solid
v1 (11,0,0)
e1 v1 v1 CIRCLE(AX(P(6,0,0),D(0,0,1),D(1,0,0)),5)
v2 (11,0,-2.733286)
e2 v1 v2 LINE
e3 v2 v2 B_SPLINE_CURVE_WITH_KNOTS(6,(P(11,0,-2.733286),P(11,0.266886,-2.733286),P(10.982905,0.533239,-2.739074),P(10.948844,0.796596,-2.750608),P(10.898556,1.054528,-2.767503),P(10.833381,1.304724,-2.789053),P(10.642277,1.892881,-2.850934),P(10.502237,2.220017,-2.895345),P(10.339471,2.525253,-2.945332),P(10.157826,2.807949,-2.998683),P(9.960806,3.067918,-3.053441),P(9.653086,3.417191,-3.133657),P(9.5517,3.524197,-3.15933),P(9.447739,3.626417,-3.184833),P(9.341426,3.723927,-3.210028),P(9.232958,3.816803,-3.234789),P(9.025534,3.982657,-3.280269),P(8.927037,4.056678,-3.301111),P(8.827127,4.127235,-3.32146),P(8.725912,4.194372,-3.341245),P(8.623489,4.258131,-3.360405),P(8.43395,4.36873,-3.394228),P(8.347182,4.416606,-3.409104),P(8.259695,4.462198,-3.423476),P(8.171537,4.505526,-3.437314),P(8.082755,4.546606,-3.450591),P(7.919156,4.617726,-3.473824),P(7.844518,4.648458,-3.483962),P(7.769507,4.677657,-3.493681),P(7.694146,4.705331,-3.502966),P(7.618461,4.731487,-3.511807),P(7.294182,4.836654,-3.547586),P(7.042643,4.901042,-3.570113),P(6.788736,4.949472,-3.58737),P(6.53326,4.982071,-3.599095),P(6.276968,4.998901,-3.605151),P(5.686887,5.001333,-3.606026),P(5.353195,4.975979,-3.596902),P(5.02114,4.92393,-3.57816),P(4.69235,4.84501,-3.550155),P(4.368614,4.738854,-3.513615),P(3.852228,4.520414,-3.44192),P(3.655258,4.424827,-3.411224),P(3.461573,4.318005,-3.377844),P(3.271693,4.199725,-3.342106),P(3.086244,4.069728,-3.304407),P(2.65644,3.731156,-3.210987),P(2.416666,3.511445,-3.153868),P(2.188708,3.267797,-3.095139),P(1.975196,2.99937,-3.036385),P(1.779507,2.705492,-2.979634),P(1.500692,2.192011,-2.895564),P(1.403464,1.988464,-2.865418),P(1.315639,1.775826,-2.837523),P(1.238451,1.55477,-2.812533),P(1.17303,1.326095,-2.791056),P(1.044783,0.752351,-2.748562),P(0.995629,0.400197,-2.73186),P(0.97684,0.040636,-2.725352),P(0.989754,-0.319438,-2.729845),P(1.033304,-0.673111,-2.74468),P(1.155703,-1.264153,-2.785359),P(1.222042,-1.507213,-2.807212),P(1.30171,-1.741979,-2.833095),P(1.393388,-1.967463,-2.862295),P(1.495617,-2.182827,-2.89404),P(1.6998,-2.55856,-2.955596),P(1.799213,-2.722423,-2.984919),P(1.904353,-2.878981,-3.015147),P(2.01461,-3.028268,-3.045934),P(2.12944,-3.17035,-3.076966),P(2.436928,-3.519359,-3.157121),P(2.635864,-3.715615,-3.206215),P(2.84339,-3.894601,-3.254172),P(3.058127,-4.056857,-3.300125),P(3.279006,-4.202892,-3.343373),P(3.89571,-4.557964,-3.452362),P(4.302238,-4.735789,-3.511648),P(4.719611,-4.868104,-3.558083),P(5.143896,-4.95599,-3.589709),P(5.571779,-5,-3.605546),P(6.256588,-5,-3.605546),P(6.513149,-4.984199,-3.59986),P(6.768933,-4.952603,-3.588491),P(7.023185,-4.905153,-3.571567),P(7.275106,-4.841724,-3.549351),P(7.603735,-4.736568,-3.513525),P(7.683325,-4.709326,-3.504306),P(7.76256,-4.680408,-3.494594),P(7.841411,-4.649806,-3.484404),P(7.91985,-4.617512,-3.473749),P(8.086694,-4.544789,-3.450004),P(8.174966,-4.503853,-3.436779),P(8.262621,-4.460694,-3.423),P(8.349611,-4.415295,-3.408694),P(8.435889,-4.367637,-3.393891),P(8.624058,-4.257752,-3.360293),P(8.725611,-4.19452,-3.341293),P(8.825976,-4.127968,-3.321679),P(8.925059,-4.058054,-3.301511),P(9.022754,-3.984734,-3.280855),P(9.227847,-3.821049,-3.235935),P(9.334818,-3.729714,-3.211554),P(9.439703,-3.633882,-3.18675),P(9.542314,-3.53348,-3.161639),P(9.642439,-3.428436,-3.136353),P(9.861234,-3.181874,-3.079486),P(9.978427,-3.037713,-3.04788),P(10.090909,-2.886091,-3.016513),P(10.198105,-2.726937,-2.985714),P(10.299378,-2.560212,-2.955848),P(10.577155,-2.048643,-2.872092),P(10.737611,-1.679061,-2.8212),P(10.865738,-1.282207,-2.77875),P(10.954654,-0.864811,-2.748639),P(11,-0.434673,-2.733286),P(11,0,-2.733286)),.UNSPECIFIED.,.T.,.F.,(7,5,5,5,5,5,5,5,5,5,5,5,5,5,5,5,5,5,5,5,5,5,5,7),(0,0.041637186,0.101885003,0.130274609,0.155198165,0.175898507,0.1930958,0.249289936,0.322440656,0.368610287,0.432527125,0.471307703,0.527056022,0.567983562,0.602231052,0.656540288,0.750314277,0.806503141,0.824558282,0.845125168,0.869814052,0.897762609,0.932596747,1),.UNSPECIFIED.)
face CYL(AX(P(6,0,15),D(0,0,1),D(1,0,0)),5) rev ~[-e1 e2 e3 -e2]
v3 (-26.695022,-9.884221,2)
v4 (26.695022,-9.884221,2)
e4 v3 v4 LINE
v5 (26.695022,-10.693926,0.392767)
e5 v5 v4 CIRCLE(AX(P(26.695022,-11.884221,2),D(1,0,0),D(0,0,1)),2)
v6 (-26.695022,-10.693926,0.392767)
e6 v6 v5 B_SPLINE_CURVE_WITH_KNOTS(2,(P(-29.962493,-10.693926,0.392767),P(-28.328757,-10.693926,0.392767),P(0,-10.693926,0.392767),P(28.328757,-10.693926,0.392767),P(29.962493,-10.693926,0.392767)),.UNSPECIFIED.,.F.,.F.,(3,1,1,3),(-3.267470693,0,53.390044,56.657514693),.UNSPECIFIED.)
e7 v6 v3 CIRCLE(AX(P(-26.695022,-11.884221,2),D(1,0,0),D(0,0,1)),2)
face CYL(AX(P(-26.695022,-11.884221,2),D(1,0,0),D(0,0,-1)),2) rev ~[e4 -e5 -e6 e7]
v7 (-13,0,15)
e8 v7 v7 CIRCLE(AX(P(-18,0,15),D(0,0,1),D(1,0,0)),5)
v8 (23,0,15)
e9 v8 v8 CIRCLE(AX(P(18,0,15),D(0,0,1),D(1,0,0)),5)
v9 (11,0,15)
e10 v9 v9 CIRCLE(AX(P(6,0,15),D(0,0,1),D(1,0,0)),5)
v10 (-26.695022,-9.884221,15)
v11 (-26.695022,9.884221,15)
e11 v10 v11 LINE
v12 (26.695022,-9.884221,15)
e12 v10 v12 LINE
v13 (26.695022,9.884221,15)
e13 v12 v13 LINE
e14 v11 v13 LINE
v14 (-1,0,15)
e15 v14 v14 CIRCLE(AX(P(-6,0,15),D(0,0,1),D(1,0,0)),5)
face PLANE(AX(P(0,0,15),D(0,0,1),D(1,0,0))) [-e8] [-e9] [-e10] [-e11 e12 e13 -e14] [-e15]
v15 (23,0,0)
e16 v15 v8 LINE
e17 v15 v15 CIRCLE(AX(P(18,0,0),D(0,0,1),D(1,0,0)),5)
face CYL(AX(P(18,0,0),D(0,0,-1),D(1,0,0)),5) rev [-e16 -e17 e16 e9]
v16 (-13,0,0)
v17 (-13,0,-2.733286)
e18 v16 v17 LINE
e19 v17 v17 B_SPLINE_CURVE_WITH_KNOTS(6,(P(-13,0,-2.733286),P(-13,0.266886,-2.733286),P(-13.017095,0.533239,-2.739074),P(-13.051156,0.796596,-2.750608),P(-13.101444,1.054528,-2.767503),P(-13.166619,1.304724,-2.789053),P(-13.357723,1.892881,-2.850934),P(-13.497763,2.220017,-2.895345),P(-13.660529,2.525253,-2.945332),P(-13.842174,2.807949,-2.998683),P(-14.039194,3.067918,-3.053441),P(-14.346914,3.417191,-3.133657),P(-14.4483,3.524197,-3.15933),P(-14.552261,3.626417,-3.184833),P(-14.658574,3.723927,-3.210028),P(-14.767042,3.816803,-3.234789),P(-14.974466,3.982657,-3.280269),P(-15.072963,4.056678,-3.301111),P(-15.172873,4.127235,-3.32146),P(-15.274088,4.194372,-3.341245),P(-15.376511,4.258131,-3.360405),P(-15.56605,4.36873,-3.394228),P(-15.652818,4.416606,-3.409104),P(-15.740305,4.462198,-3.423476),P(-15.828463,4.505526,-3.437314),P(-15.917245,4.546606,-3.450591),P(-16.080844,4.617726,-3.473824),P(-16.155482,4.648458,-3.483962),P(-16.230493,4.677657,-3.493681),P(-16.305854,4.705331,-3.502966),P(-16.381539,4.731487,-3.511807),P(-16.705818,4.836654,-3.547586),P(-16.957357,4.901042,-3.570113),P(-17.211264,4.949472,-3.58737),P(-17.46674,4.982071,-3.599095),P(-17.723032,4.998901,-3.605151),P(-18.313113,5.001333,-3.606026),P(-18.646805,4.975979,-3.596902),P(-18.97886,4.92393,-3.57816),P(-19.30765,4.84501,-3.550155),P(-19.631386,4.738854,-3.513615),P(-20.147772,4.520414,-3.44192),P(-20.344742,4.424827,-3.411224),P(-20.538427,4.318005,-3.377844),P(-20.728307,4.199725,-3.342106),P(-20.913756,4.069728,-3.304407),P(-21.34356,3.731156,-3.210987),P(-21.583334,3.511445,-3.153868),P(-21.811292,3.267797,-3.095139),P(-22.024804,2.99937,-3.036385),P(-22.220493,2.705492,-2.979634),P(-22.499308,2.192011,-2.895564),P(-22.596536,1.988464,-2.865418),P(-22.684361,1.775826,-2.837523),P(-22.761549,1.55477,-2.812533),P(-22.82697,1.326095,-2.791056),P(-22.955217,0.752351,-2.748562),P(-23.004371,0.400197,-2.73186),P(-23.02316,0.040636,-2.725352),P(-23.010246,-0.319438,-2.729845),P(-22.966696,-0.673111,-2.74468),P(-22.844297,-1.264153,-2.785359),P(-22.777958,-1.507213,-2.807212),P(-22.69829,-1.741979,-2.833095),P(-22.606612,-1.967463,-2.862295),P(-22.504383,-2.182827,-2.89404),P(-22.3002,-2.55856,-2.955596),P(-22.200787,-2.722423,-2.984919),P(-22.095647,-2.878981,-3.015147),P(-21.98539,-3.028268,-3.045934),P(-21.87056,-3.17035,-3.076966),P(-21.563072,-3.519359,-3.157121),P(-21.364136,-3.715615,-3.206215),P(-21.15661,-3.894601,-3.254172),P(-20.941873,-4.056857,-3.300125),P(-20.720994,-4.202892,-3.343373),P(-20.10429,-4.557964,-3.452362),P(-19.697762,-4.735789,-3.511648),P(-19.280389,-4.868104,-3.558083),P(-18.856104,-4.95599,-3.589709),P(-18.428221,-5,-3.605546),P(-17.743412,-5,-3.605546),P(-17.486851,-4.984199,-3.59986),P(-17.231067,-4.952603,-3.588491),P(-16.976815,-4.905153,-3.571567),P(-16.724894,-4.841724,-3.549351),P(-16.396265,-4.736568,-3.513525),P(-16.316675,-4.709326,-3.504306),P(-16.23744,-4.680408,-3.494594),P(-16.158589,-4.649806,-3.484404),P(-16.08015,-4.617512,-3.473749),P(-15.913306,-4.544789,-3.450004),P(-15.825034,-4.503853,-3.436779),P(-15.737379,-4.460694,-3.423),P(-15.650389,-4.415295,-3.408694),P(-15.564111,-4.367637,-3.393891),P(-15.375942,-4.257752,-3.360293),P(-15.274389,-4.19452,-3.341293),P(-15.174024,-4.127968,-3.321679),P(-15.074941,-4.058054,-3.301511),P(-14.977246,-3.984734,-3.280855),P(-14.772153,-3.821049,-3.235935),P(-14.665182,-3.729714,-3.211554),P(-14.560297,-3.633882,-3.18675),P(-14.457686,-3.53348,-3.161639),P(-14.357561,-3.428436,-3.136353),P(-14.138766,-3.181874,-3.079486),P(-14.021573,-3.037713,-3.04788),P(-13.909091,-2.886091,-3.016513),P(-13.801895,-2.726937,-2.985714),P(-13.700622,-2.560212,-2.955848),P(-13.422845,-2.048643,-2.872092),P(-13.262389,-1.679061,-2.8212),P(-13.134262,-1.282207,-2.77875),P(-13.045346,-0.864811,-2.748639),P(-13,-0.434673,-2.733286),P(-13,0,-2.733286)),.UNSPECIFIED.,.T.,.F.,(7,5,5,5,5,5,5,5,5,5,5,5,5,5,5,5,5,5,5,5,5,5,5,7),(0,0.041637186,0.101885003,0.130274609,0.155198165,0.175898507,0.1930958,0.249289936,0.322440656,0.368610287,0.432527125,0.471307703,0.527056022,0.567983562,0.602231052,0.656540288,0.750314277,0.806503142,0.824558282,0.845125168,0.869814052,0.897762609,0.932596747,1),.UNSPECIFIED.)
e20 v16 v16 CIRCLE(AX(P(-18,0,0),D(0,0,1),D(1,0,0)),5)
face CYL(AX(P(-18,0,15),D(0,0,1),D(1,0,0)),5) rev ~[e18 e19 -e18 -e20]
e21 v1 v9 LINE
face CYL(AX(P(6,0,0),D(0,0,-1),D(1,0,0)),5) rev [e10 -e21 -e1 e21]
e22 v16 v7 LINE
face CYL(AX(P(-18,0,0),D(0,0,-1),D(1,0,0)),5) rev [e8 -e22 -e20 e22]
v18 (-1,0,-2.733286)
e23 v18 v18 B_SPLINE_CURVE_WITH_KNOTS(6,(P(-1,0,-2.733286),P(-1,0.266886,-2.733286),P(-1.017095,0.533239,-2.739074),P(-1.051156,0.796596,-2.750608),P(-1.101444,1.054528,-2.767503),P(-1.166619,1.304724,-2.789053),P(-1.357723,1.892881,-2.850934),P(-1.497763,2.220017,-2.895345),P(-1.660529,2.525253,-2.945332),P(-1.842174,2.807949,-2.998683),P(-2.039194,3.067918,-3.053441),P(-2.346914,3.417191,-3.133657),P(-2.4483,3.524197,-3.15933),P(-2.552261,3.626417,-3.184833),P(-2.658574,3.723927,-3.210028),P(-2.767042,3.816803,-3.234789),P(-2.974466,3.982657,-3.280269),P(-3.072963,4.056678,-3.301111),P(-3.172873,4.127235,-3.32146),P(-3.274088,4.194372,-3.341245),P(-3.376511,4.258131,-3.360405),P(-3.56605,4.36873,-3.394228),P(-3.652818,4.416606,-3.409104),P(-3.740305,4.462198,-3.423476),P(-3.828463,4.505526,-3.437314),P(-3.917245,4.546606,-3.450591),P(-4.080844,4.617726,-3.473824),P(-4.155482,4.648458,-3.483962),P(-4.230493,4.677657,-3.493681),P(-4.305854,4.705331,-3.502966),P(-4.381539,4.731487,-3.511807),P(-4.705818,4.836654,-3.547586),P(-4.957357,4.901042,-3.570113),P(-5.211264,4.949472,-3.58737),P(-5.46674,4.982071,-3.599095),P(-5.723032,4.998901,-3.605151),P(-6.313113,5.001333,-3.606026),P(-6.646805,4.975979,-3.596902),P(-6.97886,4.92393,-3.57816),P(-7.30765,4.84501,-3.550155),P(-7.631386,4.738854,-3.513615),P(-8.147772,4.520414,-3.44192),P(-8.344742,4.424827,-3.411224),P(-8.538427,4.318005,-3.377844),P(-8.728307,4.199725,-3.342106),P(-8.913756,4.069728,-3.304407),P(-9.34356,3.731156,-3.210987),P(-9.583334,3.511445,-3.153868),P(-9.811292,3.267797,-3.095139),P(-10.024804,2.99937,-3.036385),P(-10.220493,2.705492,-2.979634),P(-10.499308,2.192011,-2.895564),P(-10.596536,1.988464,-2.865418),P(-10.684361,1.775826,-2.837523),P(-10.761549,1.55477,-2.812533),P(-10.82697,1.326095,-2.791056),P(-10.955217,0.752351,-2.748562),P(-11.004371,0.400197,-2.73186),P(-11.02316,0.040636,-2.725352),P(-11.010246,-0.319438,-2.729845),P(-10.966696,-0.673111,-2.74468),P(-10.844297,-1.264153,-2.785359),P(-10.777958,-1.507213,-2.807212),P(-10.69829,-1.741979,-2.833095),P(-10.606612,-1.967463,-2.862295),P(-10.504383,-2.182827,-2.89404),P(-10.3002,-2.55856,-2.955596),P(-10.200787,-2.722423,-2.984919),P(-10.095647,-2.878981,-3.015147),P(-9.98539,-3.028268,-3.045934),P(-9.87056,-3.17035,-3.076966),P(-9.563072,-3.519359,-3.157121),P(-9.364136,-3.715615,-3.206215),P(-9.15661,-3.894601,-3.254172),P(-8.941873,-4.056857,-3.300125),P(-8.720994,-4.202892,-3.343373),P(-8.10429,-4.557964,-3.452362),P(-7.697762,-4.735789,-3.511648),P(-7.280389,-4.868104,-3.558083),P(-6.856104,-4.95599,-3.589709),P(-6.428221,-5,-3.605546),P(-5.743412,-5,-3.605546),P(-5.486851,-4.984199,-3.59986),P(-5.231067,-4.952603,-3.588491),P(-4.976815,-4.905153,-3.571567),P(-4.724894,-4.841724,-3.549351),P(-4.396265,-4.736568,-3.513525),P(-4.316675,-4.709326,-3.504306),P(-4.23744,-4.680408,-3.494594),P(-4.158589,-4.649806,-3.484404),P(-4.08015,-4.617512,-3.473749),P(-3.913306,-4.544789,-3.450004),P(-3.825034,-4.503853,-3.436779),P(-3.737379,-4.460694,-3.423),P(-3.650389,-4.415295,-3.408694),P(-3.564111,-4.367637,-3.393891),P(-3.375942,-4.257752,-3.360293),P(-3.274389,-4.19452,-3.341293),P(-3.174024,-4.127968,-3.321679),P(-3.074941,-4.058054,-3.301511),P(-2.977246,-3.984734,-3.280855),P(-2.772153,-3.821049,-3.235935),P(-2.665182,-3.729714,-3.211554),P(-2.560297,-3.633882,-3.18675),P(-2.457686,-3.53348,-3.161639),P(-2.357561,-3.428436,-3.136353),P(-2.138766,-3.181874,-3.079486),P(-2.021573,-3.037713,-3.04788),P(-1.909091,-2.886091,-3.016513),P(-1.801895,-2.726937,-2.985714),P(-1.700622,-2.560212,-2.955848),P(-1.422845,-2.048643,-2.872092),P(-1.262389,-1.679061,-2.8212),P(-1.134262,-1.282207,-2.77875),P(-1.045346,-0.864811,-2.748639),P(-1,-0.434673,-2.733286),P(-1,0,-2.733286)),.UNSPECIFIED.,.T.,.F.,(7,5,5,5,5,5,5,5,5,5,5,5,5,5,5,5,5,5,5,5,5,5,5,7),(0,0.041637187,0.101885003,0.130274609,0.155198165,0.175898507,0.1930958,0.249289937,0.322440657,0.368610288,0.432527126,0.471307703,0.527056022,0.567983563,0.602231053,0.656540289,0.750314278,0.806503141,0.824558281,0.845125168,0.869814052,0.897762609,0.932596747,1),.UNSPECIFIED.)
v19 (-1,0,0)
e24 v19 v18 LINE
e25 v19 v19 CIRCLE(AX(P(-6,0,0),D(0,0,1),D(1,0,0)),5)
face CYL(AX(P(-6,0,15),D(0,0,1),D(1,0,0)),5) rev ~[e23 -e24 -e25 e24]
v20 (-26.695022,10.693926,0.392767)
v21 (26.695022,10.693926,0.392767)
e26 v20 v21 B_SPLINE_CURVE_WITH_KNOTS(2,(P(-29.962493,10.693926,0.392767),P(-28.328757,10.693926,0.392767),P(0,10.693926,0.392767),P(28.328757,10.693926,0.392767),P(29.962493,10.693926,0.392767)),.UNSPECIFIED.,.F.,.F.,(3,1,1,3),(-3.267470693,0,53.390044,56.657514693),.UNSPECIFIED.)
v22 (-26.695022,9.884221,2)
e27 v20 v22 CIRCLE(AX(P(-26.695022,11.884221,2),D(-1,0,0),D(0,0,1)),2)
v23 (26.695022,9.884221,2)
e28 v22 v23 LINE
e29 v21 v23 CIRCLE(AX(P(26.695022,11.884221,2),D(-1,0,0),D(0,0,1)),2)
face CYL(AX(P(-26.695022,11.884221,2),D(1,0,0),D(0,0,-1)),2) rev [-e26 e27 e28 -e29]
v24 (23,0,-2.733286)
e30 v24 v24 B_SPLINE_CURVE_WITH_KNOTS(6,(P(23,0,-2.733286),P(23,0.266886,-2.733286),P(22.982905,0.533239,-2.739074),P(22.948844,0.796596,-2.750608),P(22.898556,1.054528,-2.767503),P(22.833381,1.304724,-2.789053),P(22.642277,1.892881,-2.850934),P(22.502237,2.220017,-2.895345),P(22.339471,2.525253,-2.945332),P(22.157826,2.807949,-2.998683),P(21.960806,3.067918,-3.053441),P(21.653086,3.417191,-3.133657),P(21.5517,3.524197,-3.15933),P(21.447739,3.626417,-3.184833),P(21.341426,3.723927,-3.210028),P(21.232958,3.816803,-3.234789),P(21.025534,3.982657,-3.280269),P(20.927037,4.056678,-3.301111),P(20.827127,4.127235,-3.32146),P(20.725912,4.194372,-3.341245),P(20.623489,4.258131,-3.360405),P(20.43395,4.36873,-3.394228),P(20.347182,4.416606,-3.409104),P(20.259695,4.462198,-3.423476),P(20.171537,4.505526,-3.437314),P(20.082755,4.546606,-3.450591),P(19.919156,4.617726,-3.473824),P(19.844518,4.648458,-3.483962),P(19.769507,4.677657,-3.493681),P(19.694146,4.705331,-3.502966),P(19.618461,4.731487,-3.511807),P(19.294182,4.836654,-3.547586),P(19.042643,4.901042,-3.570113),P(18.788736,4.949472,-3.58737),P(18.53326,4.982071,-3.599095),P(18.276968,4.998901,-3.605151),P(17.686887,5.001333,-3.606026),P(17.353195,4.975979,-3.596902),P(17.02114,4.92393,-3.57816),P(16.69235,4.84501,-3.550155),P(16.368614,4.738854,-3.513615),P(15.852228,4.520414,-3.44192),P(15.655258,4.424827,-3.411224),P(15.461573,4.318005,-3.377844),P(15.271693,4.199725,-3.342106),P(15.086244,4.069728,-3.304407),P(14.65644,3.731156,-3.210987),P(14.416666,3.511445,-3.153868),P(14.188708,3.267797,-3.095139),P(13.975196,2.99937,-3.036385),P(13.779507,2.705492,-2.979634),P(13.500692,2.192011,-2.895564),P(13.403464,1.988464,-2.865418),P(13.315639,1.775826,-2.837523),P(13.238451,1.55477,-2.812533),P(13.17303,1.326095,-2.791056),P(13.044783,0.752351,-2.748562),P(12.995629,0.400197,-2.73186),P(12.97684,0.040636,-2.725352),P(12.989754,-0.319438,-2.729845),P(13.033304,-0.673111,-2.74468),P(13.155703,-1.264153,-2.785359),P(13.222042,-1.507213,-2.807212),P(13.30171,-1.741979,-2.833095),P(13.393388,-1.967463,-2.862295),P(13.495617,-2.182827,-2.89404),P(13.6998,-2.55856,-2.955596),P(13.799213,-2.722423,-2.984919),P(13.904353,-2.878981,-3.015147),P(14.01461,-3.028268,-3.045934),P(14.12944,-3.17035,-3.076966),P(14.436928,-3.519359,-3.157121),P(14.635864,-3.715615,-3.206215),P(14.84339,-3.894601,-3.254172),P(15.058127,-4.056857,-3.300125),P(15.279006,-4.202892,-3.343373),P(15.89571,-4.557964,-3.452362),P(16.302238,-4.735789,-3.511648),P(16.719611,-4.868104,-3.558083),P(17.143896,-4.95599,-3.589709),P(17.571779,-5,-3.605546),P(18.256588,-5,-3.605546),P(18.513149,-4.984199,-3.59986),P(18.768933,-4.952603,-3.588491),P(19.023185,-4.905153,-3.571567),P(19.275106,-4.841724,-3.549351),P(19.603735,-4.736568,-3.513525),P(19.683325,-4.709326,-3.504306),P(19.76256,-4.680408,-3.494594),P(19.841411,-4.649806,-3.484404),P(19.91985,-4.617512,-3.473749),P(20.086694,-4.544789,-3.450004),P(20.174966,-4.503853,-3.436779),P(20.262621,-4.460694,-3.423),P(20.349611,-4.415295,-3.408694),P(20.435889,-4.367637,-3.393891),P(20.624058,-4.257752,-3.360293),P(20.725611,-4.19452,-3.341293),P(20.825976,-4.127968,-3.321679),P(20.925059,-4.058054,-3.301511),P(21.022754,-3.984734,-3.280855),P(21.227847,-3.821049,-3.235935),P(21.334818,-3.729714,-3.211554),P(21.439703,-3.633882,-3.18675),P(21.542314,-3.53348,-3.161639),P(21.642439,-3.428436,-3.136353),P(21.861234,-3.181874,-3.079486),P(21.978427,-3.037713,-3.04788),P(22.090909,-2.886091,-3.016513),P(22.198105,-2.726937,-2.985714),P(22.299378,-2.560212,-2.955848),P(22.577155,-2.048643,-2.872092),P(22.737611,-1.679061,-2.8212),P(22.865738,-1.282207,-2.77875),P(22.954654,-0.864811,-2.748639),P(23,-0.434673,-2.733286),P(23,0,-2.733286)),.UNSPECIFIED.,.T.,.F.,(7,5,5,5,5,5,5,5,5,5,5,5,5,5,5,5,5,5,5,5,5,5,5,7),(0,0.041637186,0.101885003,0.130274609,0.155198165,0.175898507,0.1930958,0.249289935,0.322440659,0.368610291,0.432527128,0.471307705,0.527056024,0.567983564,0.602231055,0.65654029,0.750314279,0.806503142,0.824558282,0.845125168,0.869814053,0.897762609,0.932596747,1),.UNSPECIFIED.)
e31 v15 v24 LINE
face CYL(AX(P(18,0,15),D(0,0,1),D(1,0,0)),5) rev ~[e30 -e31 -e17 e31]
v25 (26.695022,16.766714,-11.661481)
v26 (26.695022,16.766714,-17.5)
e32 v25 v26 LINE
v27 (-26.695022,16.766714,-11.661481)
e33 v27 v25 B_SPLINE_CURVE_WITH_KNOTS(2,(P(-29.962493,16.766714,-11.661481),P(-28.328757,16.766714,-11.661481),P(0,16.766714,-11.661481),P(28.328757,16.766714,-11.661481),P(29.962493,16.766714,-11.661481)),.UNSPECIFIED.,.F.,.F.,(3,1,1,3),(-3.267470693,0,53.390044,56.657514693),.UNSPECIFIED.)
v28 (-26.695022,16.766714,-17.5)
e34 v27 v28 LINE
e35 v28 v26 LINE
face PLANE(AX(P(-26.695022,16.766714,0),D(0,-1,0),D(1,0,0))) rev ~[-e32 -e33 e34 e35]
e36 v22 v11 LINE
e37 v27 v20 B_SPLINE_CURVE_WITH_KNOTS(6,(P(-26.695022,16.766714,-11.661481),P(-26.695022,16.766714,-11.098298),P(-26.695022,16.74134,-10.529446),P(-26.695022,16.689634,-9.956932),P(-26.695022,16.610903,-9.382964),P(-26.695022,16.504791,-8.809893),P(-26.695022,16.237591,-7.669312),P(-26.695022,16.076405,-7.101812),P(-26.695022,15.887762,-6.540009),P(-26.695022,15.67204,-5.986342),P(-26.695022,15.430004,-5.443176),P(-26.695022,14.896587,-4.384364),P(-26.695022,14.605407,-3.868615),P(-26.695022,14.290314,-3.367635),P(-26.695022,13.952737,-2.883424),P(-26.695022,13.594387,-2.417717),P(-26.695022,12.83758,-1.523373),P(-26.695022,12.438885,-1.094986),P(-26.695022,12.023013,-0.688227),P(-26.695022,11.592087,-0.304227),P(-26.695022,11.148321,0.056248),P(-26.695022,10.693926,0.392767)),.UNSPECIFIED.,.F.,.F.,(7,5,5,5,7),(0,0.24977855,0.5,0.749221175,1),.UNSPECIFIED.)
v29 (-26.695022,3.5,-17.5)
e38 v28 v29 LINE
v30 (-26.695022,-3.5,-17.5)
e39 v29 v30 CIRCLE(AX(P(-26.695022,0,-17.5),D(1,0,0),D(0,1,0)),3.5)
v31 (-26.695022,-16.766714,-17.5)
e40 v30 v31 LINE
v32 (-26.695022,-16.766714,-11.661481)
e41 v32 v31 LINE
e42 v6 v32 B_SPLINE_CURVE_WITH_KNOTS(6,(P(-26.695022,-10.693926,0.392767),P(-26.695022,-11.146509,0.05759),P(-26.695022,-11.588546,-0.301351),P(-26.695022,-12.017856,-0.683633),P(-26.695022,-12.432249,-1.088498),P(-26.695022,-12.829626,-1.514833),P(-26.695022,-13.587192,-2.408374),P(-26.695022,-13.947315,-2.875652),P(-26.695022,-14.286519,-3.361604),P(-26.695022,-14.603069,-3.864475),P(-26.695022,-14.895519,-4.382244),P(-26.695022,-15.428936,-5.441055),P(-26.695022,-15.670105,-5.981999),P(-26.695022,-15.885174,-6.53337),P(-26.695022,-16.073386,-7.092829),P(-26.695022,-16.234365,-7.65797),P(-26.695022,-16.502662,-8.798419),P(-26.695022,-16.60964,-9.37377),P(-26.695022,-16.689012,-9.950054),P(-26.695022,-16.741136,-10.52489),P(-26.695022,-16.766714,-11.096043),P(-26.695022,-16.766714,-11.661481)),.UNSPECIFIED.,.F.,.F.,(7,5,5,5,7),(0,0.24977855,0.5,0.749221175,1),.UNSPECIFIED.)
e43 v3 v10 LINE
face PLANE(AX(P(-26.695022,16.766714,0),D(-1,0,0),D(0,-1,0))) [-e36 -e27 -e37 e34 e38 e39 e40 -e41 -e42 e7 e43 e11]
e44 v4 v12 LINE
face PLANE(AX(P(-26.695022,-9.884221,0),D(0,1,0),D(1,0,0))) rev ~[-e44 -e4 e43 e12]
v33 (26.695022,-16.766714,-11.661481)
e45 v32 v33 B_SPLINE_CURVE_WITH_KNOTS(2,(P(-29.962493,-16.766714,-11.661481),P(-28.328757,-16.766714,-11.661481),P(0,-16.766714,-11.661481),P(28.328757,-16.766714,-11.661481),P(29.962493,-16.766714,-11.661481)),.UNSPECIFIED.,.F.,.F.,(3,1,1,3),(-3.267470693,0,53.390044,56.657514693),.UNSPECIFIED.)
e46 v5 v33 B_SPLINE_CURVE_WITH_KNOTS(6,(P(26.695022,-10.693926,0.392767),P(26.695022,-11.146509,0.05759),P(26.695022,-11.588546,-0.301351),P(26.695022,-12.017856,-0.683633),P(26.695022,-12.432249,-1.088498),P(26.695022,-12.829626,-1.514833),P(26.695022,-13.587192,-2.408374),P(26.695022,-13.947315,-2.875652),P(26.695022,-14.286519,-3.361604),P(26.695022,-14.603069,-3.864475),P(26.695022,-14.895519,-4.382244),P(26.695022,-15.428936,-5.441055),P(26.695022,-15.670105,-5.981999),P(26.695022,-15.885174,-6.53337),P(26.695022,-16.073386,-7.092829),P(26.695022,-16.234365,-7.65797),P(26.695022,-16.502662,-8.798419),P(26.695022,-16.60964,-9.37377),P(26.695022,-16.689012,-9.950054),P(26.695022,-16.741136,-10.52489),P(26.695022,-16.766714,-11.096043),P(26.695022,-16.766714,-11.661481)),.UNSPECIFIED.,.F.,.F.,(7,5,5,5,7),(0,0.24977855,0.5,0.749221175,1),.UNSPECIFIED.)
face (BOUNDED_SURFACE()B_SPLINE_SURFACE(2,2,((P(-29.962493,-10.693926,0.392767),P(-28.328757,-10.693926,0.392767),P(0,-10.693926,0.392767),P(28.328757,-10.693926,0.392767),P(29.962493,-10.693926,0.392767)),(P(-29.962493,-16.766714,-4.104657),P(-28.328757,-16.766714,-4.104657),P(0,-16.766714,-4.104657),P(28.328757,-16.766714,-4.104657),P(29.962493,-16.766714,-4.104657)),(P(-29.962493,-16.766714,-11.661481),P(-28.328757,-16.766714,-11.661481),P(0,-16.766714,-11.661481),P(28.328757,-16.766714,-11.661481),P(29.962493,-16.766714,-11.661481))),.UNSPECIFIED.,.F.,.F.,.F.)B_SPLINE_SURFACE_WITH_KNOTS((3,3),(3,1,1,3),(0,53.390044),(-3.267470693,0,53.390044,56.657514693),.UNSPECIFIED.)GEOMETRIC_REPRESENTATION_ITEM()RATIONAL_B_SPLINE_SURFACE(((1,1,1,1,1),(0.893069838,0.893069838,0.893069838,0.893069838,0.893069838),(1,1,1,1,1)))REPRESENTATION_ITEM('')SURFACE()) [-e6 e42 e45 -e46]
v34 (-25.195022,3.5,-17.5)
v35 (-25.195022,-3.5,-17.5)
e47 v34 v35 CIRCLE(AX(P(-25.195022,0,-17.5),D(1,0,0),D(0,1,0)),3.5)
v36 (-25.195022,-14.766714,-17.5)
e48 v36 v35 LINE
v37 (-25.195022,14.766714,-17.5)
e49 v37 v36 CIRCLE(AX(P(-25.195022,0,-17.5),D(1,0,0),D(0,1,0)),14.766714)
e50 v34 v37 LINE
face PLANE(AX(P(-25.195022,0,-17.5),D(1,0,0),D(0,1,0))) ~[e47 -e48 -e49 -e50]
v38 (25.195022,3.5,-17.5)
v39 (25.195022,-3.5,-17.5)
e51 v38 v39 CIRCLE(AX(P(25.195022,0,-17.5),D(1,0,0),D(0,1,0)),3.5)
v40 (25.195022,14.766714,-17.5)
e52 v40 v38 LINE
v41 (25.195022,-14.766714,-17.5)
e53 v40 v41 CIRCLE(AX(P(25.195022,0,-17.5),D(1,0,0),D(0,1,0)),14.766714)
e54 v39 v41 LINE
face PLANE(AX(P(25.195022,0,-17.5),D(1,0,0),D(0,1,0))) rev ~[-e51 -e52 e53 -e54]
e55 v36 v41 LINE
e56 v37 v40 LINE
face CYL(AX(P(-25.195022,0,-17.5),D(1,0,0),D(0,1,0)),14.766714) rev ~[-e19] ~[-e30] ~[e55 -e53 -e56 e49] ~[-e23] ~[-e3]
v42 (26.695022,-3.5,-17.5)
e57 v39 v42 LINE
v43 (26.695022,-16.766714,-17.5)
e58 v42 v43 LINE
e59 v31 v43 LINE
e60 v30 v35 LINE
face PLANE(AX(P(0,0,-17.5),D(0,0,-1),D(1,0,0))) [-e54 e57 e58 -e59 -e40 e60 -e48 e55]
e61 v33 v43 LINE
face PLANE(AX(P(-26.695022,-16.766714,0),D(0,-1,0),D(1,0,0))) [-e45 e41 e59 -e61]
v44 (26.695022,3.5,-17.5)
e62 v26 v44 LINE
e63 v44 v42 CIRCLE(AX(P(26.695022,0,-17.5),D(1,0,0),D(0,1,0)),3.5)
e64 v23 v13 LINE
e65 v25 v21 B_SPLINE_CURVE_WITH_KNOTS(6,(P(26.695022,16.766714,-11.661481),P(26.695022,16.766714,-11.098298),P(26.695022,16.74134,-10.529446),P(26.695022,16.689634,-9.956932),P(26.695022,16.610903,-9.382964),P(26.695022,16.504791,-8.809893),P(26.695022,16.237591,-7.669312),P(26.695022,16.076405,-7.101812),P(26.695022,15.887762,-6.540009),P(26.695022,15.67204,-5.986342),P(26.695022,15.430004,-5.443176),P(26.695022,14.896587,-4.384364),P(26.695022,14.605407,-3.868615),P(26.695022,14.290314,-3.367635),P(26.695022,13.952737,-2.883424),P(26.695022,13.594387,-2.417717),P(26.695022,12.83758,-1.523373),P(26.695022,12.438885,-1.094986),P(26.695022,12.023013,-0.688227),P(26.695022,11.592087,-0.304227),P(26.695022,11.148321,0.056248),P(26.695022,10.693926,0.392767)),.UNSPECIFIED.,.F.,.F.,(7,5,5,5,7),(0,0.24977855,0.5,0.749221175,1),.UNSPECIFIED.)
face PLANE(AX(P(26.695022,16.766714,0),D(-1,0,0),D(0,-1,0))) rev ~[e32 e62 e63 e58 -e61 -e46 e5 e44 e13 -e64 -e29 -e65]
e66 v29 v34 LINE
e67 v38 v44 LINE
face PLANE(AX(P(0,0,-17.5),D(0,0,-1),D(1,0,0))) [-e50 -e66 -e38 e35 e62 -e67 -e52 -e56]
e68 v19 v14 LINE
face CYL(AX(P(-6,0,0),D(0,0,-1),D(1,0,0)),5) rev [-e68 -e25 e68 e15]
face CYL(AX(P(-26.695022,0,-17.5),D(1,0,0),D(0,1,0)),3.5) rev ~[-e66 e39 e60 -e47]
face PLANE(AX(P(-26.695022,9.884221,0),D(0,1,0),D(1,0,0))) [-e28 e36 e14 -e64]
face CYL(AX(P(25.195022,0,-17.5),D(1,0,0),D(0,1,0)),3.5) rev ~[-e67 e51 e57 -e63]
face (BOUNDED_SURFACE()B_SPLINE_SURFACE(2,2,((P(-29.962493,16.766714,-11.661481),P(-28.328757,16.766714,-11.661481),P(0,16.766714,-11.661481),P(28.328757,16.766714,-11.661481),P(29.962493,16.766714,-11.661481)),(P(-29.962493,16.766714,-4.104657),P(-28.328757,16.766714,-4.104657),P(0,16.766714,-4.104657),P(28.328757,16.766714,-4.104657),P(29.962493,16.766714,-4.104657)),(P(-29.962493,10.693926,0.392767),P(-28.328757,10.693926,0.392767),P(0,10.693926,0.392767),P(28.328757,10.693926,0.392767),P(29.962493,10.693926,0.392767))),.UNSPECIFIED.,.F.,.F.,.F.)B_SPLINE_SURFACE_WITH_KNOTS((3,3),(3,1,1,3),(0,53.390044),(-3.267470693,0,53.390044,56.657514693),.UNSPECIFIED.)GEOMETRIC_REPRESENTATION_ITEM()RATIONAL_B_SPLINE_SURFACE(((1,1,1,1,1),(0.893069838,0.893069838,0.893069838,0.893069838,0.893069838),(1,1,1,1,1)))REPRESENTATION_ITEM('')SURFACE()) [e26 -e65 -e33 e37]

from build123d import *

# Parameters (mm, degrees)
F0_W     = 53.390044
F0_H     = 19.768442
F0_R     = 5
F1_DEPTH = 15
F3_W     = 53.390044
F3_H     = 33.533428
F4_DEPTH = 17.5
F5_R     = 2
F6_R     = 15
F2_R     = 5
F7_DEPTH = 44.269914


with BuildPart() as f1:
    # F0 (on Top) → F1 (new body)
    with BuildSketch(Plane.XY):
        Rectangle(F0_W, F0_H)
        with Locations((-18, 0)):
            Circle(F0_R, mode=Mode.SUBTRACT)
        with Locations((-6, 0)):
            Circle(F0_R, mode=Mode.SUBTRACT)
        with Locations((6, 0)):
            Circle(F0_R, mode=Mode.SUBTRACT)
        with Locations((18, 0)):
            Circle(F0_R, mode=Mode.SUBTRACT)
    extrude(amount=F1_DEPTH)

    # F3 (on face) → F4 (join)
    with BuildSketch(Plane(origin=(0, 0, 0), x_dir=(1, 0, 0), z_dir=(0, 0, -1))):
        Rectangle(F3_W, F3_H)
    extrude(amount=F4_DEPTH)

    # F5
    f5_edges = [f1.edges().sort_by_distance(p)[0] for p in [
        (0, 9.884221, 0),
        (0, -9.884221, 0),
    ]]
    fillet(f5_edges, radius=F5_R)

    # F6
    f6_edges = [f1.edges().sort_by_distance(p)[0] for p in [
        (0, -16.766714, 0),
        (0, 16.766714, 0),
    ]]
    fillet(f6_edges, radius=F6_R)

    # F2 (on face) → F7 (cut)
    with BuildSketch(Plane.XY.offset(15)):
        with Locations((-18, 0)):
            Circle(F2_R)
        with Locations((-6, 0)):
            Circle(F2_R)
        with Locations((6, 0)):
            Circle(F2_R)
        with Locations((18, 0)):
            Circle(F2_R)
    extrude(amount=-F7_DEPTH, mode=Mode.SUBTRACT)

    # F8 (on face) → F9 (revolve, cut)
    with BuildSketch(Plane(origin=(0, 0, -17.5), x_dir=(1, 0, 0), z_dir=(0, 0, -1))):
        with BuildLine():
            Line((26.695022, 0), (23, 0))
            ThreePointArc((23, 0), (18, -5), (13, 0))
            Line((13, 0), (11, 0))
            ThreePointArc((11, 0), (6, -5), (1, 0))
            Line((1, 0), (-1, 0))
            ThreePointArc((-1, 0), (-6, -5), (-11, 0))
            Line((-11, 0), (-13, 0))
            ThreePointArc((-13, 0), (-18, -5), (-23, 0))
            Line((-23, 0), (-26.695022, 0))
            Line((-26.695022, 0), (-26.695022, -3.5))
            Line((-26.695022, -3.5), (-25.195022, -3.5))
            Line((-25.195022, -3.5), (-25.195022, -14.766714))
            Line((-25.195022, -14.766714), (25.195022, -14.766714))
            Line((25.195022, -14.766714), (25.195022, -3.5))
            Line((25.195022, -3.5), (26.695022, -3.5))
            Line((26.695022, -3.5), (26.695022, 0))
        make_face()
    revolve(axis=Axis((0, 0, -17.5), (1, 0, 0)), mode=Mode.SUBTRACT)


solid = f1.part
